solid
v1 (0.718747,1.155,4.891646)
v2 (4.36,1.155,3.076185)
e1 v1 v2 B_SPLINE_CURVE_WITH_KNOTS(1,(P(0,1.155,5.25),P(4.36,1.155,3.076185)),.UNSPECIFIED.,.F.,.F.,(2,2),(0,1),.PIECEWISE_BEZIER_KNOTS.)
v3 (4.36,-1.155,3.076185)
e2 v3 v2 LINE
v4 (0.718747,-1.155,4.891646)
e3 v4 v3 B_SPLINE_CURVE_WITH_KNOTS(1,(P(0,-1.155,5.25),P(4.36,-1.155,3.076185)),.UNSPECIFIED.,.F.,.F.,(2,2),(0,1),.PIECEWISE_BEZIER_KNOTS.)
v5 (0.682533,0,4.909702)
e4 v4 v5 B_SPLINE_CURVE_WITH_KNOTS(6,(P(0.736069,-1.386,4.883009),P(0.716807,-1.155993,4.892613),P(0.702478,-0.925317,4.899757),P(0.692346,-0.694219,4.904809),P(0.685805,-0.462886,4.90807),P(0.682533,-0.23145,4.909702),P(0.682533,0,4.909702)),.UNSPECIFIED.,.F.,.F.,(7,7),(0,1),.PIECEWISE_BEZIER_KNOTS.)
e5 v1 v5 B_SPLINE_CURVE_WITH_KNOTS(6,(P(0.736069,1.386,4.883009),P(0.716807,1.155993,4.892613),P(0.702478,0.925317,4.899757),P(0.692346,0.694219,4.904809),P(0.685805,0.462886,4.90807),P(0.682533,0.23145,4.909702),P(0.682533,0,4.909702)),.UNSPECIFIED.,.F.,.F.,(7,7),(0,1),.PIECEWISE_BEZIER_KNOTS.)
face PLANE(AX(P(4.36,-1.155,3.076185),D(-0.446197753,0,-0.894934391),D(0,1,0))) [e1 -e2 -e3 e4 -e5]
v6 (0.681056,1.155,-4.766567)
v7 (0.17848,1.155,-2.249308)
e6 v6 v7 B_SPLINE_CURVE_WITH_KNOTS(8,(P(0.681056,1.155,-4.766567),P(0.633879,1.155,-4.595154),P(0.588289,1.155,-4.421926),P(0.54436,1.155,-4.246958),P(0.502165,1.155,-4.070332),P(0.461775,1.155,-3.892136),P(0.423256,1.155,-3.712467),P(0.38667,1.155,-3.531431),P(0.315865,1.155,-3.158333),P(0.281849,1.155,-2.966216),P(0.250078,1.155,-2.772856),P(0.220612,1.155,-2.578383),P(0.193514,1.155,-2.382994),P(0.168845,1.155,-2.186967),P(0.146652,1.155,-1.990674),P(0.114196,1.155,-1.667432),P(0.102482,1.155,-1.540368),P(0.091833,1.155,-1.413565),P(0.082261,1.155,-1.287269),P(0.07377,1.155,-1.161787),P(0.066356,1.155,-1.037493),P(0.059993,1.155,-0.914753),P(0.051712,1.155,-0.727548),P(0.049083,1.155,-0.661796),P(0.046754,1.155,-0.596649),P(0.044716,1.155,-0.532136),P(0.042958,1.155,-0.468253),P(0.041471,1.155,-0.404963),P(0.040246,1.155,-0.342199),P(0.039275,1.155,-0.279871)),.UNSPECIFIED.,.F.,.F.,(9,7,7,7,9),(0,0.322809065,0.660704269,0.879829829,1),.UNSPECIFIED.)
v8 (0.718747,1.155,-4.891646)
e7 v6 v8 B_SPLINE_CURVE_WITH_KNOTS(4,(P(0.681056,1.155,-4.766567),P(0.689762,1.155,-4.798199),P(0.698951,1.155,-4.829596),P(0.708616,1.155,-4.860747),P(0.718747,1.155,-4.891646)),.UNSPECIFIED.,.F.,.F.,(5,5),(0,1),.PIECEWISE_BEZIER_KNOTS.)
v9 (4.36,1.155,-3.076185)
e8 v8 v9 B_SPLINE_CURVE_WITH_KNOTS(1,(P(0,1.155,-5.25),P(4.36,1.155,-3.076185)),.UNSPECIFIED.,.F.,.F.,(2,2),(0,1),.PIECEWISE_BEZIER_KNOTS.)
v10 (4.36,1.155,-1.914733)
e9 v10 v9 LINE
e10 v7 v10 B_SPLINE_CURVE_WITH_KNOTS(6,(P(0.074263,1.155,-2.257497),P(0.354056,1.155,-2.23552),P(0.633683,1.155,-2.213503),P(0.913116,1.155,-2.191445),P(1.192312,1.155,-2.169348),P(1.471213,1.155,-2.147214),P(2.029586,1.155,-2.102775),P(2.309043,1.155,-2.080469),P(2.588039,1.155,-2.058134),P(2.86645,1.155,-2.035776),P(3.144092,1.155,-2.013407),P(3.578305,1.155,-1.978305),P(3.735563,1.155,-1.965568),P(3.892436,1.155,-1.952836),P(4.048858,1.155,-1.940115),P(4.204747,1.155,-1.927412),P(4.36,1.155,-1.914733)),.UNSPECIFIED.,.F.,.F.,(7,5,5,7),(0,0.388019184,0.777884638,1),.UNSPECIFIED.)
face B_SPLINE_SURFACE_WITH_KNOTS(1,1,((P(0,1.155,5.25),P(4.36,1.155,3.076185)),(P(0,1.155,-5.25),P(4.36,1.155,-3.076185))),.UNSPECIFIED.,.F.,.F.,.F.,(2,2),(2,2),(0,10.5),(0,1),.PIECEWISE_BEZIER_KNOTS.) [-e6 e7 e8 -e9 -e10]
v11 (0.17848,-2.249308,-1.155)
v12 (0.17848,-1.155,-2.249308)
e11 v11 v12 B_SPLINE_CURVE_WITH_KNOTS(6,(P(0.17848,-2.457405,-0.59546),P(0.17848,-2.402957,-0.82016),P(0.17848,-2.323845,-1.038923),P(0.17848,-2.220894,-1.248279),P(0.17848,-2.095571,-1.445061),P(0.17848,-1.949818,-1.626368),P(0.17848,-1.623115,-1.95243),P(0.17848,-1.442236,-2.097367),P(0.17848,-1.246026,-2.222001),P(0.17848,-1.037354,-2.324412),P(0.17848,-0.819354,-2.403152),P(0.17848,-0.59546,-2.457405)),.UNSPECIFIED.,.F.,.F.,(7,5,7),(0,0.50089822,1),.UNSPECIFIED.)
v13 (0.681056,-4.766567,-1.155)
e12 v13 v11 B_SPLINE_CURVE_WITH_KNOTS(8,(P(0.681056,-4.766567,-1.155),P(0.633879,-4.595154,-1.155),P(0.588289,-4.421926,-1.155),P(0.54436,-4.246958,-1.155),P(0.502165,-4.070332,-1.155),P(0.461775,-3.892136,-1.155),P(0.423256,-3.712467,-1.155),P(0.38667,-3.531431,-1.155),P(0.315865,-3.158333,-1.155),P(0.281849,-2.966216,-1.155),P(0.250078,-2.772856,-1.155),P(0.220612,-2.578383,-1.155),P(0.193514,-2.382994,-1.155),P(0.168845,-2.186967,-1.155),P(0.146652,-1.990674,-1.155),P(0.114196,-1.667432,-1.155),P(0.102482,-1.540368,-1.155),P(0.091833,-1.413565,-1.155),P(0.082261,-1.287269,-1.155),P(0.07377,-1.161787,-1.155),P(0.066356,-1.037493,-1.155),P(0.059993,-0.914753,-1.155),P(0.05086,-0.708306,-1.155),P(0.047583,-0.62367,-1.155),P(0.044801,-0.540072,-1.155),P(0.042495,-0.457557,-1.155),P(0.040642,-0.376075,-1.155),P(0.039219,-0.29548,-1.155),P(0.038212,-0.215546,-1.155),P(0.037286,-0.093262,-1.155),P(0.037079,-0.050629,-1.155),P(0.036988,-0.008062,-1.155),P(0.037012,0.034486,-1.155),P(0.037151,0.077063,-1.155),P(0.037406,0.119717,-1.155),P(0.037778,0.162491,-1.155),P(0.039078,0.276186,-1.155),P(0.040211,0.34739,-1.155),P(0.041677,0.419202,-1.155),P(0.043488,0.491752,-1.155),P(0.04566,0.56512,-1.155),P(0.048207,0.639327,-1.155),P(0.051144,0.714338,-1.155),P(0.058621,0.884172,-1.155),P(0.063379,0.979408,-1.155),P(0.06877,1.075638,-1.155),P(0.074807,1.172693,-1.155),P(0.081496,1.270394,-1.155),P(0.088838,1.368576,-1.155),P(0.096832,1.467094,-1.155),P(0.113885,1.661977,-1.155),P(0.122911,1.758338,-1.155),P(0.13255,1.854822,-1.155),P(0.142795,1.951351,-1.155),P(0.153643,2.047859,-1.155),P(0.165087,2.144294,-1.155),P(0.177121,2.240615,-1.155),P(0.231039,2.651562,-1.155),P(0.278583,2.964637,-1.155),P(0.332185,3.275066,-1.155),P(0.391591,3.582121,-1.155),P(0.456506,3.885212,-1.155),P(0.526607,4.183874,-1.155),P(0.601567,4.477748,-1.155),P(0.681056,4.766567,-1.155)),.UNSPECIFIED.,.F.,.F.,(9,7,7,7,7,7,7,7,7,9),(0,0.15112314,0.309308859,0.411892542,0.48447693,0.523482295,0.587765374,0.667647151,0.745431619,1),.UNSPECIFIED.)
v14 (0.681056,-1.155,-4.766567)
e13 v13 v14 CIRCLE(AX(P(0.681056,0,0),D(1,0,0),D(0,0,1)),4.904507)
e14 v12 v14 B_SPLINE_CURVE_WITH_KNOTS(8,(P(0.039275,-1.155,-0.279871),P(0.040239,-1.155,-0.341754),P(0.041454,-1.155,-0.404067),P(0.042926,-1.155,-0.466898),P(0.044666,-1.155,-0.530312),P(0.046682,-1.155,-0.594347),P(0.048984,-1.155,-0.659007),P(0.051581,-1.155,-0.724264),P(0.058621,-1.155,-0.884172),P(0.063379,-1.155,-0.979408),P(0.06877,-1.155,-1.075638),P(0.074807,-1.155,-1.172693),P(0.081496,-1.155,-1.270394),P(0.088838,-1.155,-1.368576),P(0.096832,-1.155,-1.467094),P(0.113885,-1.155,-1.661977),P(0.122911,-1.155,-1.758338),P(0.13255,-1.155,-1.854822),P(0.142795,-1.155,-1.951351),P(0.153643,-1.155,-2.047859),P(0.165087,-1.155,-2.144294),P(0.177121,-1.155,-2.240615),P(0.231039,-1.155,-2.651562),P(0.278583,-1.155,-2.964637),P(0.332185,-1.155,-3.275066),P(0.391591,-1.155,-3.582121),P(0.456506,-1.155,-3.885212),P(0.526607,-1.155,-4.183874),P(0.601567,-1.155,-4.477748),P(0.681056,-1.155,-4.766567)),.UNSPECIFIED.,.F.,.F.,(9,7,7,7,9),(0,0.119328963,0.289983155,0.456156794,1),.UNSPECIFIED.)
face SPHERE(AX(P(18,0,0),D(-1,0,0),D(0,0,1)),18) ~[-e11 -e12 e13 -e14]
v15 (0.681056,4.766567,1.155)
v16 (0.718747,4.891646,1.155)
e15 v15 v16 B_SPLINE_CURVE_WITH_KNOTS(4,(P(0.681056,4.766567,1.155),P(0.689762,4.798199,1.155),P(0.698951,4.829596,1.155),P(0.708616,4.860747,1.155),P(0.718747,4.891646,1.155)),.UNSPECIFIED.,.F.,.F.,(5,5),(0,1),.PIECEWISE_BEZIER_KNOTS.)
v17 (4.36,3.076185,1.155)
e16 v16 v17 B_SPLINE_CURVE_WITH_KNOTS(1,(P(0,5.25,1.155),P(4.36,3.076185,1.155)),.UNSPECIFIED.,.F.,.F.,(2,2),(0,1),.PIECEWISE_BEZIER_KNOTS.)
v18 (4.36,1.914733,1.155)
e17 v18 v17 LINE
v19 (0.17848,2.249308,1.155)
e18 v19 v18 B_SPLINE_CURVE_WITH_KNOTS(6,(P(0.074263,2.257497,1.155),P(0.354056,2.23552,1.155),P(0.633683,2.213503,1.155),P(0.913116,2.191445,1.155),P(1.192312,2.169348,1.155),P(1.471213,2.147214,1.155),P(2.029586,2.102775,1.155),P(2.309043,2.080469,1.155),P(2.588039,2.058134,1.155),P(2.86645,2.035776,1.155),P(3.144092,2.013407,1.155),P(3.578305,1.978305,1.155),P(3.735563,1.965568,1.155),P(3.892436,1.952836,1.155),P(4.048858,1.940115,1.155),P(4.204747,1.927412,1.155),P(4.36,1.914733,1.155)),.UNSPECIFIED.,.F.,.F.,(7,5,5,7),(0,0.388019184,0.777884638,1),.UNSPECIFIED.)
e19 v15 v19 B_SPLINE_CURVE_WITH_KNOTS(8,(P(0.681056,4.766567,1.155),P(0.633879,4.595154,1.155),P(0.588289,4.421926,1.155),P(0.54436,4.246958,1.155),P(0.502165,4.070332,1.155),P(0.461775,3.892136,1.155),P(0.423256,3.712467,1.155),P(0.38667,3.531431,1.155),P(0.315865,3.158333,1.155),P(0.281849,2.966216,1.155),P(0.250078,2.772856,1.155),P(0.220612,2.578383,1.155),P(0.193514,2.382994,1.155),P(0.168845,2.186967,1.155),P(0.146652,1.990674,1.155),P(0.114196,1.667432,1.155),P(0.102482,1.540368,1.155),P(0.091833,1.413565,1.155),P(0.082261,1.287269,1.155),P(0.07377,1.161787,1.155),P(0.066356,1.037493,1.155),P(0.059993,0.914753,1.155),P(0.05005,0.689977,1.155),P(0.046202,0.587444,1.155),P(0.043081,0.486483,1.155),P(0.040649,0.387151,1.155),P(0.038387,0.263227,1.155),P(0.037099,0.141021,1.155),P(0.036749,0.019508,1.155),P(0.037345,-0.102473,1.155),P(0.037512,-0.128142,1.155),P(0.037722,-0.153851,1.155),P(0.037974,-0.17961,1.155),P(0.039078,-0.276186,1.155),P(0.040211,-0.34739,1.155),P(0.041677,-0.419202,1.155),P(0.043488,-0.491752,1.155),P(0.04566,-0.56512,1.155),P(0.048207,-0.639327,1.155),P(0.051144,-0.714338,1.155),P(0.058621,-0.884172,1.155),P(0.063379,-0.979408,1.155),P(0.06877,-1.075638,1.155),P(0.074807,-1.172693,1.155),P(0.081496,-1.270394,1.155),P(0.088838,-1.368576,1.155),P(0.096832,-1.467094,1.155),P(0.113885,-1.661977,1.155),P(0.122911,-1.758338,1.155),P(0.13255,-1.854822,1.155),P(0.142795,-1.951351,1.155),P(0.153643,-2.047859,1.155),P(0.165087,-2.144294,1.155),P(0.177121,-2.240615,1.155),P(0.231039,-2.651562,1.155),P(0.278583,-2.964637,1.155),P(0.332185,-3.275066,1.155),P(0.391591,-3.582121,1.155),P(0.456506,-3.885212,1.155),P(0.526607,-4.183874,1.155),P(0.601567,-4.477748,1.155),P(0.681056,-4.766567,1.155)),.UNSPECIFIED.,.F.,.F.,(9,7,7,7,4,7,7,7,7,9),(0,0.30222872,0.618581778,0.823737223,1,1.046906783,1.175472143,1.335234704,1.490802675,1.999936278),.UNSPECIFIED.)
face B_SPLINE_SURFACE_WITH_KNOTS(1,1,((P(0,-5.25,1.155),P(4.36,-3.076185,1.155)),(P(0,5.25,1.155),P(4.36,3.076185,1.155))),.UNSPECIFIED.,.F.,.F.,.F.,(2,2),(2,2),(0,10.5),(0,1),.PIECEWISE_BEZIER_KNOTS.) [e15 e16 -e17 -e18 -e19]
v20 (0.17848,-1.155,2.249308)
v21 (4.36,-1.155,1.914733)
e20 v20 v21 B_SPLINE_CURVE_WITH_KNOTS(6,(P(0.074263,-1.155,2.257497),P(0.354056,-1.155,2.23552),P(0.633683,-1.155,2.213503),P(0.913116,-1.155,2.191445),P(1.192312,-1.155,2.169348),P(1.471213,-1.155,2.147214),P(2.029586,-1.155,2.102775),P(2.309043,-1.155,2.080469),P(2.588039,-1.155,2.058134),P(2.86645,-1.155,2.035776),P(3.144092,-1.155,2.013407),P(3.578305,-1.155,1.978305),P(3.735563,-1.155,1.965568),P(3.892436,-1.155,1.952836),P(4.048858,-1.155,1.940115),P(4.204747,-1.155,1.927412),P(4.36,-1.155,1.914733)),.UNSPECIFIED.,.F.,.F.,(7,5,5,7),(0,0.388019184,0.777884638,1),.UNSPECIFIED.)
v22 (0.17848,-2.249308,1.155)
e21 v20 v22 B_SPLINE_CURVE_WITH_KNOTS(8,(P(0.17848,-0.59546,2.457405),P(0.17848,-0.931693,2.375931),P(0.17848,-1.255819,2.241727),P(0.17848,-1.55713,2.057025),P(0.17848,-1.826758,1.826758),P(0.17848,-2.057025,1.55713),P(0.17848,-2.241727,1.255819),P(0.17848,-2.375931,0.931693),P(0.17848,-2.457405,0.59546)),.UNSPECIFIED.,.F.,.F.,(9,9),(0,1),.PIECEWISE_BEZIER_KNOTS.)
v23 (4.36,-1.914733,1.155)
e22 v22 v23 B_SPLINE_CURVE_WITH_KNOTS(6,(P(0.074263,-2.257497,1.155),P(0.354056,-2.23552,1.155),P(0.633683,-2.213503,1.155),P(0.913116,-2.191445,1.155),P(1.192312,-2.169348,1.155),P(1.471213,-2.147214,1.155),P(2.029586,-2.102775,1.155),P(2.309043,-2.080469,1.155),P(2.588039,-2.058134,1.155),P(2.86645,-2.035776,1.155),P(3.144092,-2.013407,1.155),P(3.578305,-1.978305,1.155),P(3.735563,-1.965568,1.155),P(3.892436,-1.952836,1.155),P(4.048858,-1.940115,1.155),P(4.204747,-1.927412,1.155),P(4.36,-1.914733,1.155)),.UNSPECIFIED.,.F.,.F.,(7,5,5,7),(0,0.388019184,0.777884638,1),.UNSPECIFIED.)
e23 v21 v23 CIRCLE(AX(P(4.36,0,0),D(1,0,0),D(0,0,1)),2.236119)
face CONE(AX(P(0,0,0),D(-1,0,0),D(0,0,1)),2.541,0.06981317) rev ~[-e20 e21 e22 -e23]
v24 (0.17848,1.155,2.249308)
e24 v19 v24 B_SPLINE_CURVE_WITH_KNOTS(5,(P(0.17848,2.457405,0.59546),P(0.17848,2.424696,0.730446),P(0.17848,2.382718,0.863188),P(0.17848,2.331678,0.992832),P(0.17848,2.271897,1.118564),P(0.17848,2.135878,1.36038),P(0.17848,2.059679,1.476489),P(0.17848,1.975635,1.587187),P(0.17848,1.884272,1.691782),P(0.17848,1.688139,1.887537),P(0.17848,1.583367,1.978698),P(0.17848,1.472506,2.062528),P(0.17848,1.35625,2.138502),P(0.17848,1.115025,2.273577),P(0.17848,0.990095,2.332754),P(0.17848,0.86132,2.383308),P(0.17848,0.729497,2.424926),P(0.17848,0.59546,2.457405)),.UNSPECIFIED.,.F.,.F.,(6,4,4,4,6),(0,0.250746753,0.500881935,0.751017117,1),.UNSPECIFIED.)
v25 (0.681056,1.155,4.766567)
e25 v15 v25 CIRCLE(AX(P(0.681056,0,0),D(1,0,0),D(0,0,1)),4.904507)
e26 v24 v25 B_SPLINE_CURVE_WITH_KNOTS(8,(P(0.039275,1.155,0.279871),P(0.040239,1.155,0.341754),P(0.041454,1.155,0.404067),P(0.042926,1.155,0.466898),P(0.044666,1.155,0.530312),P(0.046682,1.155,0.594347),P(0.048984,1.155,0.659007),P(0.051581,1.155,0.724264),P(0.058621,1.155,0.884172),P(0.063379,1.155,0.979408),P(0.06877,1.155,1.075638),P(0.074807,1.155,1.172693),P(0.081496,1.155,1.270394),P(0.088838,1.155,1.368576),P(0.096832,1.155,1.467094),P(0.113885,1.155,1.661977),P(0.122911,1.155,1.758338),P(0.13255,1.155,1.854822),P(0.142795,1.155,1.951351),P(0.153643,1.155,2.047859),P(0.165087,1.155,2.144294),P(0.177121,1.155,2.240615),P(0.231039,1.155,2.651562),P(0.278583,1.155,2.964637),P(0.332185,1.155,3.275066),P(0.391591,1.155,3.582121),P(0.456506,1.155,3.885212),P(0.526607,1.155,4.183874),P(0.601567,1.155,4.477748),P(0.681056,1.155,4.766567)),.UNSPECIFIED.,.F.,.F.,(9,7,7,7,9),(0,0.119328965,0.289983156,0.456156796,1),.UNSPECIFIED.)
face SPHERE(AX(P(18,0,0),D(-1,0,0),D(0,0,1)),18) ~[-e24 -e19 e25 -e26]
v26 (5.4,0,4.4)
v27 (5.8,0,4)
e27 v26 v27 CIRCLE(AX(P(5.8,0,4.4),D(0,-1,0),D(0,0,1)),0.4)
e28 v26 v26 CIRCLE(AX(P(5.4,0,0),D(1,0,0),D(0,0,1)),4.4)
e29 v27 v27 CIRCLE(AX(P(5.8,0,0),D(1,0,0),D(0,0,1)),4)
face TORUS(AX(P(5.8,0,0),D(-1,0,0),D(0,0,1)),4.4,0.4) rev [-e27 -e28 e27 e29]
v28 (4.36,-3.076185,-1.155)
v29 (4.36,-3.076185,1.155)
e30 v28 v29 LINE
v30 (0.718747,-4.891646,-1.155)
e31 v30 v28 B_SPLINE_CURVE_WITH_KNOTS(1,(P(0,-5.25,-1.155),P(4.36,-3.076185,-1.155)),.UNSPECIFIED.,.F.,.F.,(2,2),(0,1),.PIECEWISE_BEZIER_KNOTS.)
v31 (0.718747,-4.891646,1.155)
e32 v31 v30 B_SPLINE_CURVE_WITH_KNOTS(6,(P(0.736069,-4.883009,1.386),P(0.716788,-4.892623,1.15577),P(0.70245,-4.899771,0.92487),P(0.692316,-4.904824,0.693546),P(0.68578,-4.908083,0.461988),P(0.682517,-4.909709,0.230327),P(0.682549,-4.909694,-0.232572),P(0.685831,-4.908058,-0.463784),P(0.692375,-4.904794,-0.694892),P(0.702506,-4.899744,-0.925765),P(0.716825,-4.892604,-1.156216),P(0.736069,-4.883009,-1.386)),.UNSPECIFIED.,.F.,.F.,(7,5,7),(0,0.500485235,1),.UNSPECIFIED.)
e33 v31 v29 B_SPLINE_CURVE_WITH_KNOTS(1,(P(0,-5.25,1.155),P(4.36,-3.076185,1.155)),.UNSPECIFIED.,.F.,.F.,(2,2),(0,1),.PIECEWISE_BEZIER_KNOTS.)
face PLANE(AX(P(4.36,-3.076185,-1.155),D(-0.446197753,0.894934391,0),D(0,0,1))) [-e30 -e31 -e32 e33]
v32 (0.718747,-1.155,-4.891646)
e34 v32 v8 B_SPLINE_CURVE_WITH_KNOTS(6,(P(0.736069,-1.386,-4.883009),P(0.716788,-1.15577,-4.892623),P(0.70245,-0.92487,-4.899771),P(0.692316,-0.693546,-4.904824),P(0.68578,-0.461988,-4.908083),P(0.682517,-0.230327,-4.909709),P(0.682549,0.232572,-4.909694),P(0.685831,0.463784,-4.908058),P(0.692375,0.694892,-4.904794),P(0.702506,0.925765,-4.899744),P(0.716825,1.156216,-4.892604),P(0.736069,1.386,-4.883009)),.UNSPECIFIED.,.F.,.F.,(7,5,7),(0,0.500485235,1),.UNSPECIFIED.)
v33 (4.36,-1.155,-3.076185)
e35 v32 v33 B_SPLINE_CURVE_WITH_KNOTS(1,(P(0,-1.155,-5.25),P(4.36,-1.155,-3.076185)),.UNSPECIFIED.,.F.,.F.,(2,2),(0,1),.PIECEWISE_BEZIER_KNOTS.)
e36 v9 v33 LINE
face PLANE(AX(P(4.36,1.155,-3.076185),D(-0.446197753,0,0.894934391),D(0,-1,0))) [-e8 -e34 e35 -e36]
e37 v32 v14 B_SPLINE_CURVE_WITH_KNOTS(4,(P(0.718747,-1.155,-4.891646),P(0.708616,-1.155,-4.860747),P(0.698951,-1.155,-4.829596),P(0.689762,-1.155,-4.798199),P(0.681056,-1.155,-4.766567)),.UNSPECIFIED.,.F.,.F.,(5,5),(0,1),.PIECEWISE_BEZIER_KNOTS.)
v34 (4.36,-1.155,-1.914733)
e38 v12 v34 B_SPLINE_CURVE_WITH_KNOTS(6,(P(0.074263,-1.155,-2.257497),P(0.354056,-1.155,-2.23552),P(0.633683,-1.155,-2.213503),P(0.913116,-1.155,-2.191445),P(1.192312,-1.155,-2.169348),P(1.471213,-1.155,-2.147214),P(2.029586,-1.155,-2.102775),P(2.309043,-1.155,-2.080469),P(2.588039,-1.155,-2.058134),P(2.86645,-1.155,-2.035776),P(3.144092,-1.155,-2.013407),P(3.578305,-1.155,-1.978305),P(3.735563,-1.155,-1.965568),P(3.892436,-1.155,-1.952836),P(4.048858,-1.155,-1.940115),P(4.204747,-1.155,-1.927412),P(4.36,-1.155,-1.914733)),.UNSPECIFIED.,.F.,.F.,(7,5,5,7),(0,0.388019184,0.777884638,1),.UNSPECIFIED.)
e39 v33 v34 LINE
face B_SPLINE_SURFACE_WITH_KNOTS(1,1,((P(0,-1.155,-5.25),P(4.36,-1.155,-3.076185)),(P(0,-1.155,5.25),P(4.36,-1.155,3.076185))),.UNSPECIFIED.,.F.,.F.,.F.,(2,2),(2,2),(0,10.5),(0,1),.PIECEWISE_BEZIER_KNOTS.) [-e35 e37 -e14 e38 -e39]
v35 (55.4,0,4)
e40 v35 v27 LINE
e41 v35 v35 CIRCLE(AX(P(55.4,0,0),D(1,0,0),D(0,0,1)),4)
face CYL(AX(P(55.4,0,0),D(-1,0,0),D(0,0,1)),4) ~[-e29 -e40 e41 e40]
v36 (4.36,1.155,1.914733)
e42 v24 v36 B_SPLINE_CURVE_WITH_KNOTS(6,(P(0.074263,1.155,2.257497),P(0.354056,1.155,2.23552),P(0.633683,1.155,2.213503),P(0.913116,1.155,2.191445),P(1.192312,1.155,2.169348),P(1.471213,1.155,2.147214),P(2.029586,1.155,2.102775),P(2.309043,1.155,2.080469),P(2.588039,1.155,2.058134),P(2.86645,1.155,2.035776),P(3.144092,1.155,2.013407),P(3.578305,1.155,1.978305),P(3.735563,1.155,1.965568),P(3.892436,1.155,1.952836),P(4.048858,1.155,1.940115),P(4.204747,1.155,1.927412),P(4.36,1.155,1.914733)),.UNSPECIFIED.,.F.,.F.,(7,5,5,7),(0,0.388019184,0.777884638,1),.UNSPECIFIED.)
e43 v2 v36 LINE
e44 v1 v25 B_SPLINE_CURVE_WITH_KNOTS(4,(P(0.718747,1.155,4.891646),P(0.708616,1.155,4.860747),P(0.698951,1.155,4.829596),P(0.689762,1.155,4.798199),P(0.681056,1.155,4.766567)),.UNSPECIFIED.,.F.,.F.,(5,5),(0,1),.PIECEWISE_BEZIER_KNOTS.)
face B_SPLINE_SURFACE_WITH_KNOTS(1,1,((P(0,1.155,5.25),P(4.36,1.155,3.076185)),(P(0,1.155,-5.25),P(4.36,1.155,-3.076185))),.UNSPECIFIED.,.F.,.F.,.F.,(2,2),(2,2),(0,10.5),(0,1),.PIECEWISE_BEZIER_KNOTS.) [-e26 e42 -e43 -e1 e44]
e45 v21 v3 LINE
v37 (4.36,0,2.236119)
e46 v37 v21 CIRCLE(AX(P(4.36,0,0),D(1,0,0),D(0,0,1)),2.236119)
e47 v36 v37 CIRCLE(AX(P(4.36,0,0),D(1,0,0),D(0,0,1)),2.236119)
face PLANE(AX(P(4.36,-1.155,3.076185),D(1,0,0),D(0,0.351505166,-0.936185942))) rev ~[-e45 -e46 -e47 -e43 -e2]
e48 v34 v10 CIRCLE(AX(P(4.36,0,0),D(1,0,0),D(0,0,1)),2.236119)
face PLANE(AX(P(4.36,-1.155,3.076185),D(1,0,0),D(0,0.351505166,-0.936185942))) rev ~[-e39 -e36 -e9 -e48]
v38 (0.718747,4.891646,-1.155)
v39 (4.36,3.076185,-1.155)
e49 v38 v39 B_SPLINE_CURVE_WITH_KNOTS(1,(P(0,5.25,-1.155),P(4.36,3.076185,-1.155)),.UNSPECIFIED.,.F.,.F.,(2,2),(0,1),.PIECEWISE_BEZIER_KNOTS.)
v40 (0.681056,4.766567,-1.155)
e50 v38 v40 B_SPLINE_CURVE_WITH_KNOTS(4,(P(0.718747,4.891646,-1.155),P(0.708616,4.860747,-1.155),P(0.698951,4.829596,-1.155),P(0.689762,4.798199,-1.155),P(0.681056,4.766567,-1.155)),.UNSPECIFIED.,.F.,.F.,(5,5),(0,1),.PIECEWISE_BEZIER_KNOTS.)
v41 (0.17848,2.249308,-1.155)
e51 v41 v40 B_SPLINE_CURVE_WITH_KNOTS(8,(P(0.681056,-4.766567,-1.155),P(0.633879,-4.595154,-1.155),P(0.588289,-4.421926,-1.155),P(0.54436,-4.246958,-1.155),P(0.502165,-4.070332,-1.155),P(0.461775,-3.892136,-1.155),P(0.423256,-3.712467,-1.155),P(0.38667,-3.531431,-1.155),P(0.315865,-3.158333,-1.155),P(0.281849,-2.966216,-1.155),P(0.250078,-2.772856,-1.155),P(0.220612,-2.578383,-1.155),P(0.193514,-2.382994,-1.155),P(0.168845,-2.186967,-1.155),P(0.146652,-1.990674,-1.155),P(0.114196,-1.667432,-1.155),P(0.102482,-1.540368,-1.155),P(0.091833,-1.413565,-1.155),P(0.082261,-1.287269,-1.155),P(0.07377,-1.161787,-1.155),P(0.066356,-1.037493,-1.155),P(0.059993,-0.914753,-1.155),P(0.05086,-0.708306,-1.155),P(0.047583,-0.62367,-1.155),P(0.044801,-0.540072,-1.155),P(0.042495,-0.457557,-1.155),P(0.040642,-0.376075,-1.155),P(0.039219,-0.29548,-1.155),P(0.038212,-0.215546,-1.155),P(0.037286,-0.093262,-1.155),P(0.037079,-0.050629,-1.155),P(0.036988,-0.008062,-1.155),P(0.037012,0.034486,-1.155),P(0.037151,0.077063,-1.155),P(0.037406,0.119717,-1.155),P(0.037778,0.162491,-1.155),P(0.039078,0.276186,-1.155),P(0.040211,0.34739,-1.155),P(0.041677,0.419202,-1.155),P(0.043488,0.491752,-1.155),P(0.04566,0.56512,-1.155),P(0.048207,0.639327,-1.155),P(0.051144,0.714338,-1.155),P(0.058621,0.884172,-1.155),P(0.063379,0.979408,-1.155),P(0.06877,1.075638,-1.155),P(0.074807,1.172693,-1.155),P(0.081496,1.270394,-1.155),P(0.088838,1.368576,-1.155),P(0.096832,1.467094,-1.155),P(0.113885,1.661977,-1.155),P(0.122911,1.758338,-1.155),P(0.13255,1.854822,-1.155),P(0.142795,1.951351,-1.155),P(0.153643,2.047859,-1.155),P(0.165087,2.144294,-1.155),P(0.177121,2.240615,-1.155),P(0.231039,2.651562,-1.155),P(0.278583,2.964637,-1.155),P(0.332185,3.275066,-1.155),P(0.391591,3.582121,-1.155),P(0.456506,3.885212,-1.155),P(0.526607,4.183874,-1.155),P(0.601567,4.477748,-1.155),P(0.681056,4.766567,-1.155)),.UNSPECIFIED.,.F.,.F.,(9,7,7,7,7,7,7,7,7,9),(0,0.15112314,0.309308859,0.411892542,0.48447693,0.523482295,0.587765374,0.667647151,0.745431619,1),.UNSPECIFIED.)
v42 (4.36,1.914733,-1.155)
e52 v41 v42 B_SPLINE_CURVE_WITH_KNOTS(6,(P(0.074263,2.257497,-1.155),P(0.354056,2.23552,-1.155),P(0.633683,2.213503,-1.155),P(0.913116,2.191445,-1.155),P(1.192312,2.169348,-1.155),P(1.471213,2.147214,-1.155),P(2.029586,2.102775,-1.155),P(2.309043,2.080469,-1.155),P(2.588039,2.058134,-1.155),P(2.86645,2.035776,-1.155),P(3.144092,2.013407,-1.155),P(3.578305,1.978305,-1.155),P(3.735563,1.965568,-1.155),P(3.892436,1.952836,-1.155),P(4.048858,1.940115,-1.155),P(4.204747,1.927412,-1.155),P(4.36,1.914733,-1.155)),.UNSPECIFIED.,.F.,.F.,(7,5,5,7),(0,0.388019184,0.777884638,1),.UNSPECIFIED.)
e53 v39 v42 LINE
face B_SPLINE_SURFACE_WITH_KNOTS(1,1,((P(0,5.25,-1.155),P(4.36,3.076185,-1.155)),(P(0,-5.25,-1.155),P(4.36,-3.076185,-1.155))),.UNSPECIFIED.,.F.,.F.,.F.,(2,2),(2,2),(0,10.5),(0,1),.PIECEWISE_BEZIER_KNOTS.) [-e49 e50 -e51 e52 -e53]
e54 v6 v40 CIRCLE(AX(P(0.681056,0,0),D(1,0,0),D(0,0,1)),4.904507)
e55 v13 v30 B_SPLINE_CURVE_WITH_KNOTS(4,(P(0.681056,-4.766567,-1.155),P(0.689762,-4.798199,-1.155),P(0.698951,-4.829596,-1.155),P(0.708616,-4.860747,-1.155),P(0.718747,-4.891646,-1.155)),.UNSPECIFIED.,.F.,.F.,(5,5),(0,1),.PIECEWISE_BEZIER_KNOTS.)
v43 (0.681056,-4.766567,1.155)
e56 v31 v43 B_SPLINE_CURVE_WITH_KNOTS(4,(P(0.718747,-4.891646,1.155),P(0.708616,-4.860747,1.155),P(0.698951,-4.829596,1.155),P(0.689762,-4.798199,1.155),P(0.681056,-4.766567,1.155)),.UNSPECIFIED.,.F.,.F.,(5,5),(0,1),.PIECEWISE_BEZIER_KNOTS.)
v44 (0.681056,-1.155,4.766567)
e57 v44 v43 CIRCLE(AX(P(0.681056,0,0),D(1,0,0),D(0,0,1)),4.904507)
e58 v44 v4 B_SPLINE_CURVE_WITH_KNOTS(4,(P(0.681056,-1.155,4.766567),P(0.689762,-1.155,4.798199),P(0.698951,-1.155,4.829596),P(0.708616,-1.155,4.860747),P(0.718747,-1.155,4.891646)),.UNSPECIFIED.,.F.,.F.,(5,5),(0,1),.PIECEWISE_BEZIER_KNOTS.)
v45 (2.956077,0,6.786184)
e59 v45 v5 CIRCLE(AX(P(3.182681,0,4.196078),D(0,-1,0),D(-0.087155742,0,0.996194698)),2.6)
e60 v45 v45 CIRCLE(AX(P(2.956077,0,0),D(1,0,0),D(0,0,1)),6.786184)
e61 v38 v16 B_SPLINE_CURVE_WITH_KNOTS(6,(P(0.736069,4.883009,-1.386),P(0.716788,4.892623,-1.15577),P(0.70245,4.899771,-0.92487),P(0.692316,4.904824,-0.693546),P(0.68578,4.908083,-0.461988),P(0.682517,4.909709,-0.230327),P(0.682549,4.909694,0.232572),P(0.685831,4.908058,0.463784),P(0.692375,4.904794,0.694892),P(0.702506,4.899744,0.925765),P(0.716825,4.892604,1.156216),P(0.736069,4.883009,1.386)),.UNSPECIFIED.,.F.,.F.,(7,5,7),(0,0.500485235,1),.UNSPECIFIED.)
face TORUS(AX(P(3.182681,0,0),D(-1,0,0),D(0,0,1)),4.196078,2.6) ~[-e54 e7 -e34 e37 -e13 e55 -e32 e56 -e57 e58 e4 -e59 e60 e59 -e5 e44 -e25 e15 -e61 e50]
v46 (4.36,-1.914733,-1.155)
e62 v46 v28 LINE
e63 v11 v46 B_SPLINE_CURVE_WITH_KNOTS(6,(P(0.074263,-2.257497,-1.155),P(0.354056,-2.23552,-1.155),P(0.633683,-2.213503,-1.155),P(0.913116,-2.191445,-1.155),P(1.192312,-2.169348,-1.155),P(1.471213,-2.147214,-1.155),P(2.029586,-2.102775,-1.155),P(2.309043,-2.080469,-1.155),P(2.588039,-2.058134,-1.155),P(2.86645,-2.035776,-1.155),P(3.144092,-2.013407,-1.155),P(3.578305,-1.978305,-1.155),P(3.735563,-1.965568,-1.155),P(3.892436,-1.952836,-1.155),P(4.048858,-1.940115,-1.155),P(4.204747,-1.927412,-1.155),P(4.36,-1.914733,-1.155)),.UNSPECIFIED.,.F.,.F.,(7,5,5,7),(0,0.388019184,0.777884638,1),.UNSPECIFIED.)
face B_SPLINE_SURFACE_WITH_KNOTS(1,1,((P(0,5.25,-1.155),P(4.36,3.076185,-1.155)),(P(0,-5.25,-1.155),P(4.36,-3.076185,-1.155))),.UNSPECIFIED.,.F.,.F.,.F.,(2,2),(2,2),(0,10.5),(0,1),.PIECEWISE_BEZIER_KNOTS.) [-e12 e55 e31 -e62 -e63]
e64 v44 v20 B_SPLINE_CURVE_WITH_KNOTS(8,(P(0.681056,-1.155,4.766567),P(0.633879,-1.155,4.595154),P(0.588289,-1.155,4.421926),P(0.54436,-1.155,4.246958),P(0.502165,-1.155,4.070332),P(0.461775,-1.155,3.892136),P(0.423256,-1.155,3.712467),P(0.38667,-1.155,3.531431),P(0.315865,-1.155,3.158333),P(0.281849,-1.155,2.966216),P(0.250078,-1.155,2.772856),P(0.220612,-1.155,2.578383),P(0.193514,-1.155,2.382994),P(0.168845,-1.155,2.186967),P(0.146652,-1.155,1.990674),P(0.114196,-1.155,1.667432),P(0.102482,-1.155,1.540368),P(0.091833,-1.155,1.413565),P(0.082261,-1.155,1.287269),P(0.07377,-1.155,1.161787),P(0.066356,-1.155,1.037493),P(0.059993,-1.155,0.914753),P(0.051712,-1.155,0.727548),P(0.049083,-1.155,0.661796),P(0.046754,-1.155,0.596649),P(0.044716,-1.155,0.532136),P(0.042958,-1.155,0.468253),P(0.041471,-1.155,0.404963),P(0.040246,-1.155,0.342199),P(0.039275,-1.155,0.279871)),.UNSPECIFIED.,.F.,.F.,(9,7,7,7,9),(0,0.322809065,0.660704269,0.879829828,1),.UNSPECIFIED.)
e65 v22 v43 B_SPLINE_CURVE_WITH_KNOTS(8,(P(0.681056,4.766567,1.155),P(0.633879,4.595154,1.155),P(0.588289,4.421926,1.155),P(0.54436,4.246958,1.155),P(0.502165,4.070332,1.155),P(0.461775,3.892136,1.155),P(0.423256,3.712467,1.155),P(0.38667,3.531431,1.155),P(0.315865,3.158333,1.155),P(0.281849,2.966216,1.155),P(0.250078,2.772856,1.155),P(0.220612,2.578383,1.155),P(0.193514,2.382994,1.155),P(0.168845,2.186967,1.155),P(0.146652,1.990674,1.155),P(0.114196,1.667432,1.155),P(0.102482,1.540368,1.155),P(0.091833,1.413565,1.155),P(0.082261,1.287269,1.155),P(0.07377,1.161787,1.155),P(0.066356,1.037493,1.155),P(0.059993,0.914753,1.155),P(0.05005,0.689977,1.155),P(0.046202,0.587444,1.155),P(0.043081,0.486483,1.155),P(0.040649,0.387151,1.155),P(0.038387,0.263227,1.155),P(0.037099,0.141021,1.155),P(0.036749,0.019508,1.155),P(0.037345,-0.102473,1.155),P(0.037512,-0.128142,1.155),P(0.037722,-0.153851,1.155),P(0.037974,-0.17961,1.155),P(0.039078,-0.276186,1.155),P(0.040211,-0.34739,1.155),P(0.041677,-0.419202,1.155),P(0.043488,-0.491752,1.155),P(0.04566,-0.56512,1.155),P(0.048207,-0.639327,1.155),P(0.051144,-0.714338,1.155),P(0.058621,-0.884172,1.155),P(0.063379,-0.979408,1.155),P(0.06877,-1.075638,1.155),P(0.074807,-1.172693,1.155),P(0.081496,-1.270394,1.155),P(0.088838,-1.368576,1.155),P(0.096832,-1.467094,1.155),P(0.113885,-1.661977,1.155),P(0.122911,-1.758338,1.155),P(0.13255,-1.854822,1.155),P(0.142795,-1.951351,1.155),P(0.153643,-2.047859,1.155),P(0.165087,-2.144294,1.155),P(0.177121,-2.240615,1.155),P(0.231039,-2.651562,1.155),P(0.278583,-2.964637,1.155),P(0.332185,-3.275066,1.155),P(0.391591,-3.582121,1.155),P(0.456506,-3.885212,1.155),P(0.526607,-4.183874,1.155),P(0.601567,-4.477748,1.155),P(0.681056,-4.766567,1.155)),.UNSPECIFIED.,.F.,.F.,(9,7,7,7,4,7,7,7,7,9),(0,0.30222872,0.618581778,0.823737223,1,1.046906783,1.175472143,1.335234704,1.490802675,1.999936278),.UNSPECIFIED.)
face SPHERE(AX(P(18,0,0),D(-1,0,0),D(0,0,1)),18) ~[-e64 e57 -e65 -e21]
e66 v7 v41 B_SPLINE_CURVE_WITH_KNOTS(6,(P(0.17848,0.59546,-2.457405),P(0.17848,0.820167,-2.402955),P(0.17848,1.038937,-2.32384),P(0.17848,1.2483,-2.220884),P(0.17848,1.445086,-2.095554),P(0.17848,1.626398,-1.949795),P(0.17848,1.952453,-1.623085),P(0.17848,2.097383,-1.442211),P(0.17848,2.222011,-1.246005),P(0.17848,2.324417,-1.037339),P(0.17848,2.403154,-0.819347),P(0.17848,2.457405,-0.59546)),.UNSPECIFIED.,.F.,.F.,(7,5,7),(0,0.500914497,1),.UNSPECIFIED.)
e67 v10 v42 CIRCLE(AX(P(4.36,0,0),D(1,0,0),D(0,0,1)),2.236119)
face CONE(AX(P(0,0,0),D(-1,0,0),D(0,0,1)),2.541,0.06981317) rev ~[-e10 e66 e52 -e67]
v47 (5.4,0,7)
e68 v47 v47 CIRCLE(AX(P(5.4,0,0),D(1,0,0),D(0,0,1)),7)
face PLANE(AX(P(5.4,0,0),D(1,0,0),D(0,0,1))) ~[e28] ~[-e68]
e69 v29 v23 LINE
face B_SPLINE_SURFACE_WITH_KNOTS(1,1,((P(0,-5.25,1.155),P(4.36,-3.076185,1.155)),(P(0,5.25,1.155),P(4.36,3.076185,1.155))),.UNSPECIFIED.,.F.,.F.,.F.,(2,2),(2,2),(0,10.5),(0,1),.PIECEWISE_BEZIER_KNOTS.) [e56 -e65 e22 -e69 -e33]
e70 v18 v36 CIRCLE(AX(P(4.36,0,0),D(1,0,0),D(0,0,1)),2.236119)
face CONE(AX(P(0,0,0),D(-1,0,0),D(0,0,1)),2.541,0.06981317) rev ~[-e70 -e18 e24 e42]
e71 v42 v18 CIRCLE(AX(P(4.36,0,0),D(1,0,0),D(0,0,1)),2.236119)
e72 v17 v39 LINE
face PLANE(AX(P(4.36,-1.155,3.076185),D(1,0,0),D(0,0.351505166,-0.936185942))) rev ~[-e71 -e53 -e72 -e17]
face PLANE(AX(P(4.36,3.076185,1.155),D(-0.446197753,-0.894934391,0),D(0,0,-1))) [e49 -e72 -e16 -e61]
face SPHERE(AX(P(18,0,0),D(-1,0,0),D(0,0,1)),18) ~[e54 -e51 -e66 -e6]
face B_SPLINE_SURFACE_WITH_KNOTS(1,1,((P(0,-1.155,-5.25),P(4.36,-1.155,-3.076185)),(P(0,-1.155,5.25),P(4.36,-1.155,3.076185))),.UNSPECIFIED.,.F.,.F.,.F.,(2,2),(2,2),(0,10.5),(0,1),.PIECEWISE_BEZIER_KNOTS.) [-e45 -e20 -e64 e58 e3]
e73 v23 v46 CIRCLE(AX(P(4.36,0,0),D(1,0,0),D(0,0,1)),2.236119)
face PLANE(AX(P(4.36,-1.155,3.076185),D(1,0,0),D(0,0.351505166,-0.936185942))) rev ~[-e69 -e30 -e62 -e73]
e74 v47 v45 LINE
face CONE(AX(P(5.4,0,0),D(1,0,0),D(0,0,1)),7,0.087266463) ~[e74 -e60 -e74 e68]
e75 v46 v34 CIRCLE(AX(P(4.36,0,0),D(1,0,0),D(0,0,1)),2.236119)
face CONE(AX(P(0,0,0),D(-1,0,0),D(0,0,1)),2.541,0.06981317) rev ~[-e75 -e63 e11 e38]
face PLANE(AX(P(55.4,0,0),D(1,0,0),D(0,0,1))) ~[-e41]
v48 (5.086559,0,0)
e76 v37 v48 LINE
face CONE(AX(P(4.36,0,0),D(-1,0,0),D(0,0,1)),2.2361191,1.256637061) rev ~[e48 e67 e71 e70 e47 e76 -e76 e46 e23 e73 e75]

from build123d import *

# Parameters (mm, degrees)
FILLET1_R    = 0.4
RECPAT_COUNT = 2
RECPAT_ANGLE = 90


with BuildPart() as part:
    # BodySke → BaseBody (revolve)
    with BuildSketch(Plane.XY, mode=Mode.PRIVATE) as basebody_sk:
        with BuildLine():
            Line((5.4, 4), (5.4, 7))
            Line((5.4, 7), (2.956076559, 6.786184404))
            ThreePointArc((2.956076559, 6.786184404), (1.52557938, 6.199578276), (0.681056287, 4.904506975))
            ThreePointArc((0.681056287, 4.904506975), (0.171077054, 2.475784034), (0, 0))
            Line((0, 0), (55.4, 0))
            Line((55.4, 0), (55.4, 4))
            Line((55.4, 4), (5.4, 4))
        make_face()
    revolve(basebody_sk.sketch.rotate(Axis((0, 0, 0), (1, 0, 0)), 90), axis=Axis((0, 0, 0), (1, 0, 0)))

    # Fillet1
    fillet1_edges = [part.edges().sort_by_distance(p)[0] for p in [
        (5.4, 0, -4),
    ]]
    fillet(fillet1_edges, radius=FILLET1_R)

    # RecSkeTop → Recess section 0
    with BuildSketch(Plane(origin=(0, 0, 0), x_dir=(0, 0, -1), z_dir=(1, 0, 0))):
        with BuildLine():
            Line((-1.155, 5.25), (1.155, 5.25))
            Line((1.155, 5.25), (1.155, -5.25))
            Line((1.155, -5.25), (-1.155, -5.25))
            Line((-1.155, -5.25), (-1.155, 5.25))
        make_face()
    # RecSkeBot → Recess section 1
    with BuildSketch(Plane(origin=(4.36, 0, 0), x_dir=(0, 0, -1), z_dir=(1, 0, 0))):
        with BuildLine():
            Line((-1.155, 3.076184552), (1.155, 3.076184552))
            Line((1.155, 3.076184552), (1.155, -3.076184552))
            Line((1.155, -3.076184552), (-1.155, -3.076184552))
            Line((-1.155, -3.076184552), (-1.155, 3.076184552))
        make_face()
    recess = loft(mode=Mode.SUBTRACT)

    # RecPat: Recess ×2 about axis
    recpat_axis = Axis((0, 0, 0), (1, 0, 0))
    for i in range(1, RECPAT_COUNT):
        add(recess.rotate(recpat_axis, i * RECPAT_ANGLE / (RECPAT_COUNT - 1)), mode=Mode.SUBTRACT)

    # RecCorSke → RecessCore (revolve, cut)
    with BuildSketch(Plane.XY, mode=Mode.PRIVATE) as recesscore_sk:
        Polygon((0, 0), (0, 2.541), (4.36, 2.2361191), (5.086559139, 0), align=None)
    revolve(recesscore_sk.sketch.rotate(Axis((0, 0, 0), (1, 0, 0)), 90), axis=Axis((0, 0, 0), (1, 0, 0)), mode=Mode.SUBTRACT)


solid = part.part
